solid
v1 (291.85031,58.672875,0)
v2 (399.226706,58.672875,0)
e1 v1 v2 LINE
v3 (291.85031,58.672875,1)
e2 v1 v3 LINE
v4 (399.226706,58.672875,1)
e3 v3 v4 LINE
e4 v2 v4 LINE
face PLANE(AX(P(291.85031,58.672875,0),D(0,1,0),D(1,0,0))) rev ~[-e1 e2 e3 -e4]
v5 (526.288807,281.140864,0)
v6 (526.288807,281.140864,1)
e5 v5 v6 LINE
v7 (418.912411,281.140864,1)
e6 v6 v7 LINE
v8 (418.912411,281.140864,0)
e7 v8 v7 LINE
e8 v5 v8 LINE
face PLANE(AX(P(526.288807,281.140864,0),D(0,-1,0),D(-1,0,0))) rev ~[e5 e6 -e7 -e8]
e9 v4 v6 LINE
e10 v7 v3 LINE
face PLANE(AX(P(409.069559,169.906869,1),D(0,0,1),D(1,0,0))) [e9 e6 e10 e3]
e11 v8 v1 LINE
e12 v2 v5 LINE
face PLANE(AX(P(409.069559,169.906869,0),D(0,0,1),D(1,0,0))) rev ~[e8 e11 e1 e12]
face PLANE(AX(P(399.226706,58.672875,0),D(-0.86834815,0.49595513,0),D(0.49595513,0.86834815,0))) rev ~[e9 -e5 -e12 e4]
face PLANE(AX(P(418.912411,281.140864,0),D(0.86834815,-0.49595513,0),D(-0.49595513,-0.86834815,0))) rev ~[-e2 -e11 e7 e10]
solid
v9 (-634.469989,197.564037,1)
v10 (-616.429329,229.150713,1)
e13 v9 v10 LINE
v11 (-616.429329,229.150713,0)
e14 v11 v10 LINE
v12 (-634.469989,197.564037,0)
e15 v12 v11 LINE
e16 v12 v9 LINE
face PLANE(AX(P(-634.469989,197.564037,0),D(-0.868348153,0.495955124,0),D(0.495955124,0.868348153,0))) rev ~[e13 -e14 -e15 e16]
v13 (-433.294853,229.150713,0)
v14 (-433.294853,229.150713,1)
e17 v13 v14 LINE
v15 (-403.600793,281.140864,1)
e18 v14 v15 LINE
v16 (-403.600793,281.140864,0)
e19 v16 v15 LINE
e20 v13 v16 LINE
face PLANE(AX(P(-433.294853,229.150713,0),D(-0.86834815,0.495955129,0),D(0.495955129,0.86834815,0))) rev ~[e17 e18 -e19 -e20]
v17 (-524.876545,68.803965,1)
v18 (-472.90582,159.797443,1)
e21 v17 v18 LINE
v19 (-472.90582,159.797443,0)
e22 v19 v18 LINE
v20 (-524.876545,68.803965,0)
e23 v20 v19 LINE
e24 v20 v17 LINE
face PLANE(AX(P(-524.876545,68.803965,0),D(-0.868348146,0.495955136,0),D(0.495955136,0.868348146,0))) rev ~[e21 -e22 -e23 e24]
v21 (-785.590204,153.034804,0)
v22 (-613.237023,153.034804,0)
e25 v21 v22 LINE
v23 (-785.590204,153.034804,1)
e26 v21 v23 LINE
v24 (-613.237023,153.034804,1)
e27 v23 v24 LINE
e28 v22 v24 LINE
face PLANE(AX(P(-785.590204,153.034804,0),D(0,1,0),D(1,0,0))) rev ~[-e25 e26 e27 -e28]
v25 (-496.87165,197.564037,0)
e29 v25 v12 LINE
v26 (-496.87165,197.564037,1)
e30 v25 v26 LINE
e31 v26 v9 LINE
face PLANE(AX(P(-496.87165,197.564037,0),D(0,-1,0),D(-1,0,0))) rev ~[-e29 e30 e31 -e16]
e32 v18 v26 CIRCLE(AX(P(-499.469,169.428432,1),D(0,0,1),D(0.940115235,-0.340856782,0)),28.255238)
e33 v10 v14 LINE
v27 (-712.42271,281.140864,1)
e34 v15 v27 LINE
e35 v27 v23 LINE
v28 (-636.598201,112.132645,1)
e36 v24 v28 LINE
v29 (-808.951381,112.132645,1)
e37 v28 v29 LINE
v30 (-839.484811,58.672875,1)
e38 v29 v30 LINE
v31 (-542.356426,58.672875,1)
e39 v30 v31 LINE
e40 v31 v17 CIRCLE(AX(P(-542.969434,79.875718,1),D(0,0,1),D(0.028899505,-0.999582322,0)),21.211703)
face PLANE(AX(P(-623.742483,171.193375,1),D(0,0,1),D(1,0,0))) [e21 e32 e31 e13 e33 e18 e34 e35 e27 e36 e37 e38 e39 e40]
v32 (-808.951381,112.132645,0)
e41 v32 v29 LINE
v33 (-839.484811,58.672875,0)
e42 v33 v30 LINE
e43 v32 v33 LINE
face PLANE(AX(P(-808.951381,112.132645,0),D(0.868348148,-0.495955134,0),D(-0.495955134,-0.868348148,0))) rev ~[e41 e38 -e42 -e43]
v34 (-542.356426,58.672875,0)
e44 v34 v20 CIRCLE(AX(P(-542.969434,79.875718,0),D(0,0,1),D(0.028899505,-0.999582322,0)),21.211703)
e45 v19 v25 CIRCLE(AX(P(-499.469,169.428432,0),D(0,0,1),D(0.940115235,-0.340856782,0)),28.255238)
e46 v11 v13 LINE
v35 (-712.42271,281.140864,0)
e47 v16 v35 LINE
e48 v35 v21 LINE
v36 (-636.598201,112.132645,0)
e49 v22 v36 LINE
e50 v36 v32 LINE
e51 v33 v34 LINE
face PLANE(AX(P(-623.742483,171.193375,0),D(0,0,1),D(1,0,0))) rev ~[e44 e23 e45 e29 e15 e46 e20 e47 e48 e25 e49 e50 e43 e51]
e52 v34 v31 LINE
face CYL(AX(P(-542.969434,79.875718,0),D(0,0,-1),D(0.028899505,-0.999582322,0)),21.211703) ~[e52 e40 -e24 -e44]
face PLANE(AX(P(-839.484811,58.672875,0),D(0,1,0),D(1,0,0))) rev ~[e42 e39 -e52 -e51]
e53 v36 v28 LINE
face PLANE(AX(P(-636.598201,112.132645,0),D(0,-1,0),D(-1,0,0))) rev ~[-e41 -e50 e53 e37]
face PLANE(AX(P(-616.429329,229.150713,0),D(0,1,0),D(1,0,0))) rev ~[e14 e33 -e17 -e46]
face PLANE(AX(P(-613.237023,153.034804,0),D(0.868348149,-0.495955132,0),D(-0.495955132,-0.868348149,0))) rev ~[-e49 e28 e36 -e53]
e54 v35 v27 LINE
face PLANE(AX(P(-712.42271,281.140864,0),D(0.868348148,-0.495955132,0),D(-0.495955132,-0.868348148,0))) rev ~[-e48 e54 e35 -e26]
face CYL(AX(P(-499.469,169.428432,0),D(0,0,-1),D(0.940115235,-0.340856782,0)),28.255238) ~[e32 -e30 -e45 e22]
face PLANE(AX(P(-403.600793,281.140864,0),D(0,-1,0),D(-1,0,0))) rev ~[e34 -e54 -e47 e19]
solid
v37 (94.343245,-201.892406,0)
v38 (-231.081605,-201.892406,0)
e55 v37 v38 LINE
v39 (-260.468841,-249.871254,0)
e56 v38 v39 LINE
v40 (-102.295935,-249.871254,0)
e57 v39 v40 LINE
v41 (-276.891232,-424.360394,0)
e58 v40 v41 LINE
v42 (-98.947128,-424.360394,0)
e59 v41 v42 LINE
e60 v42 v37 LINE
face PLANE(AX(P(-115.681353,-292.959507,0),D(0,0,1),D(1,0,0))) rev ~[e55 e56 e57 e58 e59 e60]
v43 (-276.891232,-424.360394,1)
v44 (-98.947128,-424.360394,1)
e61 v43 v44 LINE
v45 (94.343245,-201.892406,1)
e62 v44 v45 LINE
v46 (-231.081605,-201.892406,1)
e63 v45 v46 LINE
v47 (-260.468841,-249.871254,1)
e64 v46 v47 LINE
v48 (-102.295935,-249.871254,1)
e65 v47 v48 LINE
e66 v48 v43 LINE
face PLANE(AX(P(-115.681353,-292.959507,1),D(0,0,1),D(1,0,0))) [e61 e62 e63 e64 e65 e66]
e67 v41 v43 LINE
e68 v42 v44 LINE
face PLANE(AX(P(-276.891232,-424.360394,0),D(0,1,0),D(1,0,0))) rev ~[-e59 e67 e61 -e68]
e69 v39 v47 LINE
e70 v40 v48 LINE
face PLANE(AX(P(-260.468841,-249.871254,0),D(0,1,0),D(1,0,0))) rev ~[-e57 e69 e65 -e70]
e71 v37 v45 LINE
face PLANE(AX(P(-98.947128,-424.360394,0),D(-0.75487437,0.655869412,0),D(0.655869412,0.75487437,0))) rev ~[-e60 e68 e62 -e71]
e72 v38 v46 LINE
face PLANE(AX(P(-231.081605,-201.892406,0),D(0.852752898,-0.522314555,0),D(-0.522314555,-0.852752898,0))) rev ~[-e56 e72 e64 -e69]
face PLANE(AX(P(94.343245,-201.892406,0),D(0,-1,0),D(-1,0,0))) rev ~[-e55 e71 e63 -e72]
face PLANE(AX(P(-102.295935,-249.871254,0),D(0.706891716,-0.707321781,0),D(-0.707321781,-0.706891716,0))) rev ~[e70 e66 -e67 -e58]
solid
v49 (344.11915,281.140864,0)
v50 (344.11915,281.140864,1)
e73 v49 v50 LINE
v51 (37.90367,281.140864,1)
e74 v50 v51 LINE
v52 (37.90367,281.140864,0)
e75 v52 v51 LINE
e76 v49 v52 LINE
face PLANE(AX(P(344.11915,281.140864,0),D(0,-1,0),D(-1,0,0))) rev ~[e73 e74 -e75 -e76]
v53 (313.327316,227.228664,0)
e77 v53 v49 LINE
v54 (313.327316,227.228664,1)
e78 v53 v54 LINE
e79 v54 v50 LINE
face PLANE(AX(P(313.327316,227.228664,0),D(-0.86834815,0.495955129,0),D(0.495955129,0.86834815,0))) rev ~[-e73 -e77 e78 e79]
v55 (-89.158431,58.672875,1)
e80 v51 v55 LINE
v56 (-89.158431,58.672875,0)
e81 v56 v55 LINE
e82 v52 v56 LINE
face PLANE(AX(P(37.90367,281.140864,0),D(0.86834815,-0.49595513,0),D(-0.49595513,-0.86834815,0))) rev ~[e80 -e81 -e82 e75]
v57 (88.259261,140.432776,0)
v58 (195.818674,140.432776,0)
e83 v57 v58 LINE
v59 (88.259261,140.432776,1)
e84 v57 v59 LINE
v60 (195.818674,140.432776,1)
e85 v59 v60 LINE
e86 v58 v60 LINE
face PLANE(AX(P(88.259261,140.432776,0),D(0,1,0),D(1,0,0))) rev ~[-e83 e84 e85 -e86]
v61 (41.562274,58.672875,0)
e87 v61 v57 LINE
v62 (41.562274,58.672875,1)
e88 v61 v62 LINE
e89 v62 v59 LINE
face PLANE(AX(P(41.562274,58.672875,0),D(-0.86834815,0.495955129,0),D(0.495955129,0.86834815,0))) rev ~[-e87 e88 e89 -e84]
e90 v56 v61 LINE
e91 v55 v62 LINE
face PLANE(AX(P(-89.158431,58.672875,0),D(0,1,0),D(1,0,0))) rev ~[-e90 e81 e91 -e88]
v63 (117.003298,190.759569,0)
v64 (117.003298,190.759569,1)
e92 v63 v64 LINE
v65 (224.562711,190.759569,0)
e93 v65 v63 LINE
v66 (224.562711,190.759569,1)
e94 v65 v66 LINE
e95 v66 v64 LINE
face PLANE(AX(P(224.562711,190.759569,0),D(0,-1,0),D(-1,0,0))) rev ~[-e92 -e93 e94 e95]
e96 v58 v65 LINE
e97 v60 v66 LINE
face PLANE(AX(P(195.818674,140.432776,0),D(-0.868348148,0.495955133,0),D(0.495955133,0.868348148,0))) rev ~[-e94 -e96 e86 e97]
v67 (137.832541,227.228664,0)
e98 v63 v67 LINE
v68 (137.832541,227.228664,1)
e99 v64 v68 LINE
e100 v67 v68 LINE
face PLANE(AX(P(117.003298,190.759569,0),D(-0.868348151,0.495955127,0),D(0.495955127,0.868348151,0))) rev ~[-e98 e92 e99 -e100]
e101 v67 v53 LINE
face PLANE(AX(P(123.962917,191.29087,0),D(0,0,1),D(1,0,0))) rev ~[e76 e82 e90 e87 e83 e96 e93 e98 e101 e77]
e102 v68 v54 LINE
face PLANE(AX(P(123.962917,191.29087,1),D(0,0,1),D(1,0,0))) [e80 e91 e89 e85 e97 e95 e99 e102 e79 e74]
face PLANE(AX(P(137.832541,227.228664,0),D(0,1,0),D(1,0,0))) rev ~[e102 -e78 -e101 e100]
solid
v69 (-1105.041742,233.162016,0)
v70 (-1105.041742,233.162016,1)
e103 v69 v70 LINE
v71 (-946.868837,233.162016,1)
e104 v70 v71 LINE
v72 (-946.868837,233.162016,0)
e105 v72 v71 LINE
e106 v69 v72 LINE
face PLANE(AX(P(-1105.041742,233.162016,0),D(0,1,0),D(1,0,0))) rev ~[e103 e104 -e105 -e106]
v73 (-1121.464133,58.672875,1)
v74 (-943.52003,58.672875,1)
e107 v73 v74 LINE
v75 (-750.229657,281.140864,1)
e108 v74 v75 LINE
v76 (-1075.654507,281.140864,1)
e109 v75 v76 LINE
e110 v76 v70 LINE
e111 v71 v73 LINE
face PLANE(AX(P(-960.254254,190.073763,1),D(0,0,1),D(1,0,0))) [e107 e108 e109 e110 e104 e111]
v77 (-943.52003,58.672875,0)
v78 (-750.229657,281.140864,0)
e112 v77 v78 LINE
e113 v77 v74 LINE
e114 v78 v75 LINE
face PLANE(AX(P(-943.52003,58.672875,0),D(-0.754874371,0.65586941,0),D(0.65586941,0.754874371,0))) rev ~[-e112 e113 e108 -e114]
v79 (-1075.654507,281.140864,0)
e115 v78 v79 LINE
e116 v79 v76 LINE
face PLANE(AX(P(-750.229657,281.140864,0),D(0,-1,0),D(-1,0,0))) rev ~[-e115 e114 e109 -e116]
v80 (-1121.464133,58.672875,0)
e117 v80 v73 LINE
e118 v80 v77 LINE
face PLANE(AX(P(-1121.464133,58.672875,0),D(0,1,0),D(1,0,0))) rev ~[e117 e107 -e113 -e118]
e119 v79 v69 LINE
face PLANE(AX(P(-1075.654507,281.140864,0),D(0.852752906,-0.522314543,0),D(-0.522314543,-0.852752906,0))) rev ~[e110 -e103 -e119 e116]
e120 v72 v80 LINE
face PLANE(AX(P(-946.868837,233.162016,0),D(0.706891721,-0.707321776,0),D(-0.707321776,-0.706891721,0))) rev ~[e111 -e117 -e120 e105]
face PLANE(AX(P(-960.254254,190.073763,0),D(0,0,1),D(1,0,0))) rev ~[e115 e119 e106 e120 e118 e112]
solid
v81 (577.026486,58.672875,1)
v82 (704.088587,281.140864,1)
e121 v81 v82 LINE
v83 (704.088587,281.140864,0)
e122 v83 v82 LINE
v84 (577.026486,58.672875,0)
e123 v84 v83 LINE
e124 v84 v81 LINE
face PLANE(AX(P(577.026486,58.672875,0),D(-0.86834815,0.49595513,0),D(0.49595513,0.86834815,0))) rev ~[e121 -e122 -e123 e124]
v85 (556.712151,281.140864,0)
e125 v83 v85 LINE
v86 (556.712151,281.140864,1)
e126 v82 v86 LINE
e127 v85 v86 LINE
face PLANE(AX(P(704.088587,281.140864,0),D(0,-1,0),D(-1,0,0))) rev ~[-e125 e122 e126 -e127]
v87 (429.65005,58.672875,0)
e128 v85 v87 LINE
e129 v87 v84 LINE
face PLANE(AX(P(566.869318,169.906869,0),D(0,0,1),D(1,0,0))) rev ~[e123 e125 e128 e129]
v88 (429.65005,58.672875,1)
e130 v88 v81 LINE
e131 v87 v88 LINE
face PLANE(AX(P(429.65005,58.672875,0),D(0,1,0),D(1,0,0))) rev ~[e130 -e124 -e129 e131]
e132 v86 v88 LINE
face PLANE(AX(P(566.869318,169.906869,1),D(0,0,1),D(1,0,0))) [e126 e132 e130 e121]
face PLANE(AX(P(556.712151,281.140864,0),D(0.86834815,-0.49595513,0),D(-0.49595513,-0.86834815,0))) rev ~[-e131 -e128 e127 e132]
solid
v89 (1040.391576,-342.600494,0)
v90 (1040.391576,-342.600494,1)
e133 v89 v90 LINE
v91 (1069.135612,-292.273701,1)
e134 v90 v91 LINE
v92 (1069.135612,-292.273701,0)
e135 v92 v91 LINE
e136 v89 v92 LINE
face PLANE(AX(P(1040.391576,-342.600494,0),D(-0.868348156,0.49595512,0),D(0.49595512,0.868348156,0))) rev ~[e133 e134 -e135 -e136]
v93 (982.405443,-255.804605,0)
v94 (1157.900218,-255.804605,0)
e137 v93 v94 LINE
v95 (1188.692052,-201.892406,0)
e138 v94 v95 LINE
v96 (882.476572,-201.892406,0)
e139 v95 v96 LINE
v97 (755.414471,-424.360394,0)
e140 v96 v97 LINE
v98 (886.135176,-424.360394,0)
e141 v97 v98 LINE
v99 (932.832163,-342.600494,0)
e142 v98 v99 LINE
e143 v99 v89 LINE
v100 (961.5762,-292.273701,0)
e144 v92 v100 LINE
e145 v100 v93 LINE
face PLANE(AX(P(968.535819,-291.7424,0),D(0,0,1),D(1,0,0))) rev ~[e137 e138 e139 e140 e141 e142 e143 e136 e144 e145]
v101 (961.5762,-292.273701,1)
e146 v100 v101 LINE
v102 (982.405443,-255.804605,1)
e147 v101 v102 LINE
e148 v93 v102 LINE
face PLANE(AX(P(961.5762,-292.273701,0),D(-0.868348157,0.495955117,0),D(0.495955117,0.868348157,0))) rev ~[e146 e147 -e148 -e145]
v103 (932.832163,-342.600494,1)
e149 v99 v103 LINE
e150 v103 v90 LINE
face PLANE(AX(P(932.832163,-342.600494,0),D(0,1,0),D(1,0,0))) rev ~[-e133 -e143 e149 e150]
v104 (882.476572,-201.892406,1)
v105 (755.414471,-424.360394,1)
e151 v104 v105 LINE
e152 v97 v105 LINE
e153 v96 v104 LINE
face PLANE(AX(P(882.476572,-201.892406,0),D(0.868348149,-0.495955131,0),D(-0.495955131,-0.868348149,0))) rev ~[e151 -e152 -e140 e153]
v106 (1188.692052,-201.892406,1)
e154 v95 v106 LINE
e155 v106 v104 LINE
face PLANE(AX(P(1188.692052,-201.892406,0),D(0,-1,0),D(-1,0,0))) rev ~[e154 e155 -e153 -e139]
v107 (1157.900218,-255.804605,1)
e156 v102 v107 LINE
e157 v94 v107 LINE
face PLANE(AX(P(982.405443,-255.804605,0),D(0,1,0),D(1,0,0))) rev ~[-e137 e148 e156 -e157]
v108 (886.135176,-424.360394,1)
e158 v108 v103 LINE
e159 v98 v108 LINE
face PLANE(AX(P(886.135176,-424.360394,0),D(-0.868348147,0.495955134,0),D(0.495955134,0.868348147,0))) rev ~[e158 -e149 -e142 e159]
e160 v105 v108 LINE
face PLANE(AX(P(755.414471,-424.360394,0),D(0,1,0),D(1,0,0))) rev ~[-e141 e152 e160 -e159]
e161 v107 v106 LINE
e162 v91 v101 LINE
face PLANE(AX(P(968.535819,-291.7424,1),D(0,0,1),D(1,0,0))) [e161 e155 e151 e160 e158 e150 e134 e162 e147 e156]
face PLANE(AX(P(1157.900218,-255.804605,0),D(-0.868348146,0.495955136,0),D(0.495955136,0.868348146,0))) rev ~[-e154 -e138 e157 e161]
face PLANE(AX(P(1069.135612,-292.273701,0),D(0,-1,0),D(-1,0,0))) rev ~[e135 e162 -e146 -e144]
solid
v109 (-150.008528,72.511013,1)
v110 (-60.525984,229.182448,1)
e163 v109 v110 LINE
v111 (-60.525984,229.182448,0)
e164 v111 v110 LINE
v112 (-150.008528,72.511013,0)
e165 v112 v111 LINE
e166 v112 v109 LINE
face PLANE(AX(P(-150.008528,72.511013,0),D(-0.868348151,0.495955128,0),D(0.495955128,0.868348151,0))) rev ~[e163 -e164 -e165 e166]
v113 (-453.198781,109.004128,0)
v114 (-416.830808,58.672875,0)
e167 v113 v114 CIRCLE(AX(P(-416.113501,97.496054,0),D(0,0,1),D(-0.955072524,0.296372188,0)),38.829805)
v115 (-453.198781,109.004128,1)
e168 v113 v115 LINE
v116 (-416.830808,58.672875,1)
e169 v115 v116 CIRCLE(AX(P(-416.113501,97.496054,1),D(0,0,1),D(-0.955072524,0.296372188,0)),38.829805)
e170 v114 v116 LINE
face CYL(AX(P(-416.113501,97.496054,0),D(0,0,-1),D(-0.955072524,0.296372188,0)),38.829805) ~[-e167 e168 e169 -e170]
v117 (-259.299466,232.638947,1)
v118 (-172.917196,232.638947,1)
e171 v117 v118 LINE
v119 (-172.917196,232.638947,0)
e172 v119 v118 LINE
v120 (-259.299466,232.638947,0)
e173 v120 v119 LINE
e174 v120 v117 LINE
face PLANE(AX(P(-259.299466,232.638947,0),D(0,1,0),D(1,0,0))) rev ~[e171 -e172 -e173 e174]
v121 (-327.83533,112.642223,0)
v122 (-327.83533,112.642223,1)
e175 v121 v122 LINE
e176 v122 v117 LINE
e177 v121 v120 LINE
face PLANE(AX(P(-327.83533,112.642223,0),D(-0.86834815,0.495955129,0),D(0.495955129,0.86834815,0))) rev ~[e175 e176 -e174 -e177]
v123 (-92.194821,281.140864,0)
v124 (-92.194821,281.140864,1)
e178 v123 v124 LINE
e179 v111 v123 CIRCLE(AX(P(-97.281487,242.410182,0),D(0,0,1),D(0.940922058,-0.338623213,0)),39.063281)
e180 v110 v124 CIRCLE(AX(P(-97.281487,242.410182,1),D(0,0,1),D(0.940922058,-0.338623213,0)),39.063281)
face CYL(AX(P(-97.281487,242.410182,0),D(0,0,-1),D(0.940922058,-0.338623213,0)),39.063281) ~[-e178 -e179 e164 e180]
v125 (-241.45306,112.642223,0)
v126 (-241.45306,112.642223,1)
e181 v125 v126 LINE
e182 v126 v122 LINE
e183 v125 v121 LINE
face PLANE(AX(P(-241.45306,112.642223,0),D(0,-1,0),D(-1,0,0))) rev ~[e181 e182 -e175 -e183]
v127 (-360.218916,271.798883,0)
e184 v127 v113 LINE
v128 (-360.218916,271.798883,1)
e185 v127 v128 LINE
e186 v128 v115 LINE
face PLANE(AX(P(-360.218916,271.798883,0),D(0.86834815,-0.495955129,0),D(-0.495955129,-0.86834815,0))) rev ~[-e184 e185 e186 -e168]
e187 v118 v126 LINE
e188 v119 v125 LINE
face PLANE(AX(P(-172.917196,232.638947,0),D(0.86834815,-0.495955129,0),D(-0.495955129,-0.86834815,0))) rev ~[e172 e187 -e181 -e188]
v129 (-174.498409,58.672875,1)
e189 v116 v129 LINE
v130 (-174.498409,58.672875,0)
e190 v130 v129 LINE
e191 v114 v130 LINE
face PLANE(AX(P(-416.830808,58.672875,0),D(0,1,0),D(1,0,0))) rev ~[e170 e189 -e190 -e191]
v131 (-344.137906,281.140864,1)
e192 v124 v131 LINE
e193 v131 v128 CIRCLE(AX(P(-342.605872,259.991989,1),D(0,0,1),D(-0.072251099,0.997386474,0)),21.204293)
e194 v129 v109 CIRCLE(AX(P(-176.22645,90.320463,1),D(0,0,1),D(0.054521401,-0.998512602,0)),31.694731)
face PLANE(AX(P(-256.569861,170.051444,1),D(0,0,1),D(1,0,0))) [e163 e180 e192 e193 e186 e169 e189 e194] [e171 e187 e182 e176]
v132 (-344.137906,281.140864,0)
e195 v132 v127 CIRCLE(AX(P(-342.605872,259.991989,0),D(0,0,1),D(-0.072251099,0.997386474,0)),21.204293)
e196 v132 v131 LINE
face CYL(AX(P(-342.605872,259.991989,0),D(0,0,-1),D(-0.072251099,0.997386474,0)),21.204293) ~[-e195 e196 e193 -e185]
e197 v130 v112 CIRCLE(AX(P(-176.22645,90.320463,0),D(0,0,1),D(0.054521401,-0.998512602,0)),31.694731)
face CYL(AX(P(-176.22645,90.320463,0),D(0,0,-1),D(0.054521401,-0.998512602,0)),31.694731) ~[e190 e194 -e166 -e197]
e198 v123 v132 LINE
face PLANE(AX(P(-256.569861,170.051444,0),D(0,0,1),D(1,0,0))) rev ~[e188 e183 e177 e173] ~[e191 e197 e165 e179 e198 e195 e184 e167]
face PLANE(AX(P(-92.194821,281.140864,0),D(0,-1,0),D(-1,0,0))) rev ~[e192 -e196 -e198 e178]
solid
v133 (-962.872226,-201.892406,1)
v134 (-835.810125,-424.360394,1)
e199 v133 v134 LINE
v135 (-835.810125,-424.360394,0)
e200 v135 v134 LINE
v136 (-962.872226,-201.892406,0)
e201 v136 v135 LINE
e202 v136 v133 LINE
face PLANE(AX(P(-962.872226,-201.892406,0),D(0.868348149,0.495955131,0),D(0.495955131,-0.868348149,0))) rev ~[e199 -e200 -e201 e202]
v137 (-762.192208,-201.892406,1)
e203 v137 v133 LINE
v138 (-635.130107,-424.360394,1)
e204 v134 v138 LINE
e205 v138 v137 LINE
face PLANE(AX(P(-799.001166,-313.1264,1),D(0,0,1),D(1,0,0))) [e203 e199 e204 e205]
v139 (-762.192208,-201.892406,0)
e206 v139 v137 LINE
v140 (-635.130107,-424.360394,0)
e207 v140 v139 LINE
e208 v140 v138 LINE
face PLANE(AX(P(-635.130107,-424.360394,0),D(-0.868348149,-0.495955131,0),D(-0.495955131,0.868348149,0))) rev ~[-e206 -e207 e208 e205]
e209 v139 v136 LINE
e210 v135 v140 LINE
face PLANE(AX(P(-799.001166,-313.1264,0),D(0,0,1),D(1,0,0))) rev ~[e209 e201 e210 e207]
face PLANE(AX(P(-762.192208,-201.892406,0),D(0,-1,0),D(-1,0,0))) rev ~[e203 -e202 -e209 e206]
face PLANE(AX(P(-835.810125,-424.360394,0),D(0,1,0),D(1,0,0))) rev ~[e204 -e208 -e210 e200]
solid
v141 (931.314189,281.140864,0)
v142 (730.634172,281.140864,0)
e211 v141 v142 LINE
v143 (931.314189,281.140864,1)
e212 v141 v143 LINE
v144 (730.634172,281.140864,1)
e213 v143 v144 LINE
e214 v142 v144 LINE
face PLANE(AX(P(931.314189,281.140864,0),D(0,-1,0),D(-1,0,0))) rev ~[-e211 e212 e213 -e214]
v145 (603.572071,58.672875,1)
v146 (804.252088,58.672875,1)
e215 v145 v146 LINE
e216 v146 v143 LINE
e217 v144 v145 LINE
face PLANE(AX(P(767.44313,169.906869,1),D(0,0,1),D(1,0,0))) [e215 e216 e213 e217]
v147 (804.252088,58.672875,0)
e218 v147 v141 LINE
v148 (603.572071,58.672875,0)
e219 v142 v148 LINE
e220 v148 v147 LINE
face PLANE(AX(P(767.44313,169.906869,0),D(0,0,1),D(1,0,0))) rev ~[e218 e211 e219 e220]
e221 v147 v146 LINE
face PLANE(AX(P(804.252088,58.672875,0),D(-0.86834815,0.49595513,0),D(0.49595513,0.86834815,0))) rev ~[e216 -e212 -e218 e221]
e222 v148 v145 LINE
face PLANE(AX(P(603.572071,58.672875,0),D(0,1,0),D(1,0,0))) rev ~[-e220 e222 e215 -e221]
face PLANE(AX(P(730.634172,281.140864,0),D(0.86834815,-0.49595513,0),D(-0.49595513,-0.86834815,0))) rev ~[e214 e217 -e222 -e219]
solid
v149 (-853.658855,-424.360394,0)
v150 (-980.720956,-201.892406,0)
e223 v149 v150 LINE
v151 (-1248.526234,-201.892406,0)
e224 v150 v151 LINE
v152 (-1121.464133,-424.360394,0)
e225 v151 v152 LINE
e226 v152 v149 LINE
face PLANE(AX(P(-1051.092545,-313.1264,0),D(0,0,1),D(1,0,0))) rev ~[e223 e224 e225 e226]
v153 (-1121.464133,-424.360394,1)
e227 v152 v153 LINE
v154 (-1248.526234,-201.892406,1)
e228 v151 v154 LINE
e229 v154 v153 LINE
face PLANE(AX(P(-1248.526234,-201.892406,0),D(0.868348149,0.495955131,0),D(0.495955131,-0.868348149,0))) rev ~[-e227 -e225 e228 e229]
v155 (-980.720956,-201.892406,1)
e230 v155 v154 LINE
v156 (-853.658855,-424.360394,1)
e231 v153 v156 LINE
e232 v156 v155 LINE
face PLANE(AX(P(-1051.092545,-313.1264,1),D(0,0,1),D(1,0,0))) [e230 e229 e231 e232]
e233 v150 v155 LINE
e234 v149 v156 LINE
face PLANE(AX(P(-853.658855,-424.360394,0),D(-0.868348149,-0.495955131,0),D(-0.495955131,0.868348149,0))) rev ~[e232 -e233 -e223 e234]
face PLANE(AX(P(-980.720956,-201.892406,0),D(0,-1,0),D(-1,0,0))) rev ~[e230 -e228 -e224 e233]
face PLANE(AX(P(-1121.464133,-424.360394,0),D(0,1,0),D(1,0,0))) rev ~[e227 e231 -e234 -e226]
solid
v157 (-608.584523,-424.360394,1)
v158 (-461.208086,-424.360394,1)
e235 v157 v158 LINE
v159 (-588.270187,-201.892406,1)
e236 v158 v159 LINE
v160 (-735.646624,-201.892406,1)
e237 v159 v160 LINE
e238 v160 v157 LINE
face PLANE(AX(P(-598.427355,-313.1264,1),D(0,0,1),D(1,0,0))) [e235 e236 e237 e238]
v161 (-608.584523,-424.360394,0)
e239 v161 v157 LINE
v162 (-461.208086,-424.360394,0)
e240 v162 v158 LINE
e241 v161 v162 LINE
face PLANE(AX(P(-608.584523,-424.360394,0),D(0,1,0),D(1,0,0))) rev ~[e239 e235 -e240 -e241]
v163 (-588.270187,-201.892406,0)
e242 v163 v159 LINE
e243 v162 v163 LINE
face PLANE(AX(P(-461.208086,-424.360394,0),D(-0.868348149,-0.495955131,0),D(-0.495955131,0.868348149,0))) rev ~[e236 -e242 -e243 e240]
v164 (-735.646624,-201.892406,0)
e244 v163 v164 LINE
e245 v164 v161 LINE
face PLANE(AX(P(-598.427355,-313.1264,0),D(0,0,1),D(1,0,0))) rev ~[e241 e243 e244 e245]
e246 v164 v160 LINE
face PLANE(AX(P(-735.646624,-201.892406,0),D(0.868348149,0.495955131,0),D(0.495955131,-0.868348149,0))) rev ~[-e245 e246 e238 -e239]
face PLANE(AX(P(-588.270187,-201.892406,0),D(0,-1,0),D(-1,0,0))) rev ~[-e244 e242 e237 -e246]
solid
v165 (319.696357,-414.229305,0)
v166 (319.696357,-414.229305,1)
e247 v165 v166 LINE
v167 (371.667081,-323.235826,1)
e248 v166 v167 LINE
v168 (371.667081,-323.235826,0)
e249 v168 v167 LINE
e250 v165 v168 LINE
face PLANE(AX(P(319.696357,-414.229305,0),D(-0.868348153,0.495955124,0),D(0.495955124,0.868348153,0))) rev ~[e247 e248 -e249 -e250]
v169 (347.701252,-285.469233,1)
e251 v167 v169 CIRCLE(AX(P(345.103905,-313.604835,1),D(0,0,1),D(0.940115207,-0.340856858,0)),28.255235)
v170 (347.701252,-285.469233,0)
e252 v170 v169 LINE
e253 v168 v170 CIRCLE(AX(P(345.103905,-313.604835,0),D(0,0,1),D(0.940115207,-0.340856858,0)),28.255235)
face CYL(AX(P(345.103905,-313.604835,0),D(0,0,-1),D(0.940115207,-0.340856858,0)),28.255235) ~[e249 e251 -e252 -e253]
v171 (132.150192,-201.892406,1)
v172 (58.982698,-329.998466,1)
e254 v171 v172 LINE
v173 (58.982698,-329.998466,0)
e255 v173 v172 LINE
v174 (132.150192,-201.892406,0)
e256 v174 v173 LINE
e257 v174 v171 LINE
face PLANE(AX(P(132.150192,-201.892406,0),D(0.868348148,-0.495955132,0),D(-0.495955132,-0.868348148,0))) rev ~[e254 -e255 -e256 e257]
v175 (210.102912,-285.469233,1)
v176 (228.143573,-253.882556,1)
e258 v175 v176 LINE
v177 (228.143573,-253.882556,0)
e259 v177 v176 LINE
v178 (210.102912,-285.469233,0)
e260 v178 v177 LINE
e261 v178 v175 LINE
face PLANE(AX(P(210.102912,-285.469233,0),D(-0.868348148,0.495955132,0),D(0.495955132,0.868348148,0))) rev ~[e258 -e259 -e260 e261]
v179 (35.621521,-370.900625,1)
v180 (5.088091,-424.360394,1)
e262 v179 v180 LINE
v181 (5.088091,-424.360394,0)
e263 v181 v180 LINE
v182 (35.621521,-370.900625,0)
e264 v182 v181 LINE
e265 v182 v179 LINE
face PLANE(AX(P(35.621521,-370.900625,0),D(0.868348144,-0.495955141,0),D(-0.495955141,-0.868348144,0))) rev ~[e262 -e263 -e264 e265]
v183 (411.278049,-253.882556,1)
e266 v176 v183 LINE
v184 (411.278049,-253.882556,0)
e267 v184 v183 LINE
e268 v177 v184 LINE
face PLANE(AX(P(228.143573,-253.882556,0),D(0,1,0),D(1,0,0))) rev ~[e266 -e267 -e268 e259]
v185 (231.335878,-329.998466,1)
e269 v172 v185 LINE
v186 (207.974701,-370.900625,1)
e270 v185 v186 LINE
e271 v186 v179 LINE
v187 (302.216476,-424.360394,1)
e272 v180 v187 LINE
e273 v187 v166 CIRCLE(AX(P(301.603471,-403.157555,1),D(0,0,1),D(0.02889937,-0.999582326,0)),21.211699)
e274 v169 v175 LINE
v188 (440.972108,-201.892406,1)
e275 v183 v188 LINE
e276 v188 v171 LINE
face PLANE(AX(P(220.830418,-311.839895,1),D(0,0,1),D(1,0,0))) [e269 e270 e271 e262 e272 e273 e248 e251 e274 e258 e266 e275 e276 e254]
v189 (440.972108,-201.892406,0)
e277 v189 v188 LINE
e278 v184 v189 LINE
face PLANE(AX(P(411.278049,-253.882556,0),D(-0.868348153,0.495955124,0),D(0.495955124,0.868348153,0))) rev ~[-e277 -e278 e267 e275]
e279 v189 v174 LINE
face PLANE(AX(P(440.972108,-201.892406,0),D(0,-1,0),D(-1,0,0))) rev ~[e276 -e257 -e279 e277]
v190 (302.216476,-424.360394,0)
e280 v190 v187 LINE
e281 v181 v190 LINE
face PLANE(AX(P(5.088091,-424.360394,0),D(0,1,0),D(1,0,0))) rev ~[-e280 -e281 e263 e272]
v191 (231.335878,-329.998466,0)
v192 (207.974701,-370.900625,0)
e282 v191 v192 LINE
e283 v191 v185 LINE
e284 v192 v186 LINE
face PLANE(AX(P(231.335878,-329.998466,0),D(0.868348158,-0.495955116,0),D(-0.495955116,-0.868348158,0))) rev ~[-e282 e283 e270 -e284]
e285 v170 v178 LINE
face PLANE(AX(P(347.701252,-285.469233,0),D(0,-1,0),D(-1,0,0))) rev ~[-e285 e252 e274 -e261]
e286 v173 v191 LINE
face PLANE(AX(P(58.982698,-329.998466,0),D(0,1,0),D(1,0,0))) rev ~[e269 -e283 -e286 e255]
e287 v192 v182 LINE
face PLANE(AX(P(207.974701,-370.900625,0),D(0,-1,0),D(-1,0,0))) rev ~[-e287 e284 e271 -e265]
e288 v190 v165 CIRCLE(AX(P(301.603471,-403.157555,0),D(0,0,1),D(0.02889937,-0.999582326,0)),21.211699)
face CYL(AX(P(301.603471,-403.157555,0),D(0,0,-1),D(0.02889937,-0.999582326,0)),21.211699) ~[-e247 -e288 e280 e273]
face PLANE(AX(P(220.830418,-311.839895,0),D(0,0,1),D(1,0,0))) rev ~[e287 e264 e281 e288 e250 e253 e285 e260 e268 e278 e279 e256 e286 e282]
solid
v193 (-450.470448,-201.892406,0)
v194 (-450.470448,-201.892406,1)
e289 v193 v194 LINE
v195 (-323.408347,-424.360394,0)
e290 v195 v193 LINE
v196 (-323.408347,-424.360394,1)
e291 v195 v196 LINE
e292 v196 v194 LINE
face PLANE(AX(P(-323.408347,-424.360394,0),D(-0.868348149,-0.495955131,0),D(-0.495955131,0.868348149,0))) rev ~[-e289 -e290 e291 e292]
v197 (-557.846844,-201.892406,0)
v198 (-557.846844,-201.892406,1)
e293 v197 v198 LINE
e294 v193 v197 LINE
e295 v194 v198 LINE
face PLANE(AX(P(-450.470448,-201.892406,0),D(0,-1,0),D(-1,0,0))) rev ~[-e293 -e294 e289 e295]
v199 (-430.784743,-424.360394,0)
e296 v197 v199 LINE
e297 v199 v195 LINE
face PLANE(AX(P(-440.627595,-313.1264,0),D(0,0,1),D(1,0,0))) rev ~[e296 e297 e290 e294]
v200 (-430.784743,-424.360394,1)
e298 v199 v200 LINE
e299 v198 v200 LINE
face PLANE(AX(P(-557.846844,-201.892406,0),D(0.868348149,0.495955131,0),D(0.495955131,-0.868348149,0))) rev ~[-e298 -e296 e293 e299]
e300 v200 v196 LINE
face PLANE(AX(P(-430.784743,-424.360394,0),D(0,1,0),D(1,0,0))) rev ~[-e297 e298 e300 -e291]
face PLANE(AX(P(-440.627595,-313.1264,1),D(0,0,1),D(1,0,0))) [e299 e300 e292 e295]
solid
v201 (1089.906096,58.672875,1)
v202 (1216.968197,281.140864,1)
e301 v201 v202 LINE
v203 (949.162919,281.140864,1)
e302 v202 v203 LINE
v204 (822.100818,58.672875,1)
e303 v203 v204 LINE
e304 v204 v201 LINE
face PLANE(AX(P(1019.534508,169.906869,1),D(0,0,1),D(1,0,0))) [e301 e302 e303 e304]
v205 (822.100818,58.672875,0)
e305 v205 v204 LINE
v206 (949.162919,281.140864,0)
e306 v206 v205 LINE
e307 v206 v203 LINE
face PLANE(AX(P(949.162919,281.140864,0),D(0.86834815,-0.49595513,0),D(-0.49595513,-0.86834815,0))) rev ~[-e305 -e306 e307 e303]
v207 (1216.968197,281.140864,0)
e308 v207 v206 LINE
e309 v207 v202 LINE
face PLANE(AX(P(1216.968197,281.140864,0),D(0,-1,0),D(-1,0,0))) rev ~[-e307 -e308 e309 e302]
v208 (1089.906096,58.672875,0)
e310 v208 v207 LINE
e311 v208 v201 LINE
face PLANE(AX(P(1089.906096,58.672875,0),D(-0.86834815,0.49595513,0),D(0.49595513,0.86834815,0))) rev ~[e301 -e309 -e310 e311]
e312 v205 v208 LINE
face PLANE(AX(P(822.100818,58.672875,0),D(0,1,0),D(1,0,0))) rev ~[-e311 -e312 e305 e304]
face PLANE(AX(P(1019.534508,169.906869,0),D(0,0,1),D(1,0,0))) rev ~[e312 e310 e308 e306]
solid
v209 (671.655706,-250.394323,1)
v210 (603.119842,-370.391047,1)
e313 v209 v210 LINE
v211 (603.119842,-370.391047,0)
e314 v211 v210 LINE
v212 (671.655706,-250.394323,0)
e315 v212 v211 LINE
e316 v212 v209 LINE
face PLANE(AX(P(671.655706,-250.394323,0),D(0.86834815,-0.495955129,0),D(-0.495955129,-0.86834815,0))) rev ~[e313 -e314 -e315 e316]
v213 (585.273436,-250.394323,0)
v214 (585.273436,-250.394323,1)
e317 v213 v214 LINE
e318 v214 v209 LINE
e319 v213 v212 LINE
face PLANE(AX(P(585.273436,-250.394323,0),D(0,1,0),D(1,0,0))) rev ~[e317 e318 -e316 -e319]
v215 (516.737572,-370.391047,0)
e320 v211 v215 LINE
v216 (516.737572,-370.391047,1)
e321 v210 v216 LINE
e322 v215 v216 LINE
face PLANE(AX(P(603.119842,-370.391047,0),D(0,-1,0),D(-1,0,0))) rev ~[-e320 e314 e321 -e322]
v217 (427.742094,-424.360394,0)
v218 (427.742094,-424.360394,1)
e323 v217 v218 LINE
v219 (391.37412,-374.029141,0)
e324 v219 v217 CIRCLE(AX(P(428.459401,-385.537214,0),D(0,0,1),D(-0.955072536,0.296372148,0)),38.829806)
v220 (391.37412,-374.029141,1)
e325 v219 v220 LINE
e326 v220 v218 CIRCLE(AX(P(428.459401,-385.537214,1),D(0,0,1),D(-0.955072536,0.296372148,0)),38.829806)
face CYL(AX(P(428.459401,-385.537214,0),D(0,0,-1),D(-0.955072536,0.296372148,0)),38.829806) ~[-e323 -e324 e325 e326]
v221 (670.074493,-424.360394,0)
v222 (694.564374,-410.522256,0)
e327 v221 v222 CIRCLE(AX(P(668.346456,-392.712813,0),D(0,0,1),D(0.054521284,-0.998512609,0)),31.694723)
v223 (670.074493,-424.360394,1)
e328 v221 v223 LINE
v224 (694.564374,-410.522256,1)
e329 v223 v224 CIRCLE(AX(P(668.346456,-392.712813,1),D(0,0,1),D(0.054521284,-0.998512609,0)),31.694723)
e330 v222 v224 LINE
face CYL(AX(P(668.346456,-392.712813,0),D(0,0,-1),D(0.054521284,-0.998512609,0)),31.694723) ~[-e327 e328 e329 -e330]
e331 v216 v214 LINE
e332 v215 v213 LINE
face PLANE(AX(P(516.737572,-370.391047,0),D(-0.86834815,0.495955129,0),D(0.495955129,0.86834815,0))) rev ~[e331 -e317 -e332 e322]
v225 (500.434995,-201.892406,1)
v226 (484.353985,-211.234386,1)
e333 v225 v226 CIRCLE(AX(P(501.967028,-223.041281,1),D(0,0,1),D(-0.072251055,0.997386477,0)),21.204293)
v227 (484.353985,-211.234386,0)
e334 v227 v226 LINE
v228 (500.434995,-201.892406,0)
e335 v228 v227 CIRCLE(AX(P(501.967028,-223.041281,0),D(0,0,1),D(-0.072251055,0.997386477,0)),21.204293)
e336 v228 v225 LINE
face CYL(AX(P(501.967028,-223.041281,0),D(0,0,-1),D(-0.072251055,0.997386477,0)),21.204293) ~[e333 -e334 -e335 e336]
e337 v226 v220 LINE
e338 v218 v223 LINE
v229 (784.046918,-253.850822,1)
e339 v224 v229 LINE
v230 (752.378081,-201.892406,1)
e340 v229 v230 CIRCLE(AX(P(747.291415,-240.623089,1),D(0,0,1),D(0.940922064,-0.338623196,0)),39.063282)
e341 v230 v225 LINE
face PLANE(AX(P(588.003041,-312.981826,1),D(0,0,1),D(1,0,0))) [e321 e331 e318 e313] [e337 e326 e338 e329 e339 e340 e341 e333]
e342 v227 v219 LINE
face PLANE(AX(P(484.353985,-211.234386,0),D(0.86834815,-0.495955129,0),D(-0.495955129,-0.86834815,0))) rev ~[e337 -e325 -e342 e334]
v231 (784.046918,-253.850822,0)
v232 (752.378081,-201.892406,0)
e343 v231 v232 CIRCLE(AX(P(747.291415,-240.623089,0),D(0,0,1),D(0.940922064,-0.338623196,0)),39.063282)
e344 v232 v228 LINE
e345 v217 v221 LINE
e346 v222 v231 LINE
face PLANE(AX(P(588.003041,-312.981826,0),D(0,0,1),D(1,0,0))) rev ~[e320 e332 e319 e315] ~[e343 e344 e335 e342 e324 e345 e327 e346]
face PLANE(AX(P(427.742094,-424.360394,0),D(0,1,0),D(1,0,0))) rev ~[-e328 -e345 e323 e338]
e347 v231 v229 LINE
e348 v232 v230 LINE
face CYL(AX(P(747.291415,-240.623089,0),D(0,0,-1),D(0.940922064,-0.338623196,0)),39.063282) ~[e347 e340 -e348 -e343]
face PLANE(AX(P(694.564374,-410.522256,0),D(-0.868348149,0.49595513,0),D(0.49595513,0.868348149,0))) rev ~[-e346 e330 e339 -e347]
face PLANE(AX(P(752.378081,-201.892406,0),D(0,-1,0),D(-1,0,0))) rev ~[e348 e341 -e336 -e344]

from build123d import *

# Parameters (mm, degrees)
F1_DEPTH = 1


with BuildPart() as f1:
    # F0 (on Top) → F1 (new body)
    with BuildSketch(Plane.XY):
        with BuildLine():
            ThreePointArc((500.434995, -201.892406), (491.315661, -204.70633), (484.353985, -211.234386))
            Line((484.353985, -211.234386), (391.37412, -374.029141))
            ThreePointArc((391.37412, -374.029141), (396.986116, -408.278941), (427.742094, -424.360394))
            Line((427.742094, -424.360394), (670.074493, -424.360394))
            ThreePointArc((670.074493, -424.360394), (683.938685, -420.306977), (694.564374, -410.522256))
            Line((694.564374, -410.522256), (784.046918, -253.850822))
            ThreePointArc((784.046918, -253.850822), (780.647239, -220.292596), (752.378081, -201.892406))
            Line((752.378081, -201.892406), (500.434995, -201.892406))
        make_face()
        Polygon((516.737572, -370.391047), (585.273436, -250.394323), (671.655706, -250.394323), (603.119842, -370.391047), align=None, mode=Mode.SUBTRACT)
        Polygon((-1121.464133, -424.360394), (-853.658855, -424.360394), (-980.720956, -201.892406), (-1248.526234, -201.892406), align=None)
        with BuildLine():
            ThreePointArc((-344.137906, 281.140864), (-353.257241, 278.326939), (-360.218916, 271.798883))
            Line((-360.218916, 271.798883), (-453.198781, 109.004128))
            ThreePointArc((-453.198781, 109.004128), (-447.586786, 74.754328), (-416.830808, 58.672875))
            Line((-416.830808, 58.672875), (-174.498409, 58.672875))
            ThreePointArc((-174.498409, 58.672875), (-160.634217, 62.726293), (-150.008528, 72.511013))
            Line((-150.008528, 72.511013), (-60.525984, 229.182448))
            ThreePointArc((-60.525984, 229.182448), (-63.925662, 262.740673), (-92.194821, 281.140864))
            Line((-92.194821, 281.140864), (-344.137906, 281.140864))
        make_face()
        Polygon((-327.83533, 112.642223), (-259.299466, 232.638947), (-172.917196, 232.638947), (-241.45306, 112.642223), align=None, mode=Mode.SUBTRACT)
        Polygon((-750.229657, 281.140864), (-1075.654507, 281.140864), (-1105.041742, 233.162016), (-946.868837, 233.162016), (-1121.464133, 58.672875), (-943.52003, 58.672875), align=None)
        with BuildLine():
            Line((-808.951381, 112.132645), (-839.484811, 58.672875))
            Line((-839.484811, 58.672875), (-542.356426, 58.672875))
            ThreePointArc((-542.356426, 58.672875), (-532.332828, 61.523635), (-524.876545, 68.803965))
            Line((-524.876545, 68.803965), (-472.90582, 159.797443))
            ThreePointArc((-472.90582, 159.797443), (-475.611862, 184.567635), (-496.87165, 197.564037))
            Line((-496.87165, 197.564037), (-634.469989, 197.564037))
            Line((-634.469989, 197.564037), (-616.429329, 229.150713))
            Line((-616.429329, 229.150713), (-433.294853, 229.150713))
            Line((-433.294853, 229.150713), (-403.600793, 281.140864))
            Line((-403.600793, 281.140864), (-712.42271, 281.140864))
            Line((-712.42271, 281.140864), (-785.590204, 153.034804))
            Line((-785.590204, 153.034804), (-613.237023, 153.034804))
            Line((-613.237023, 153.034804), (-636.598201, 112.132645))
            Line((-636.598201, 112.132645), (-808.951381, 112.132645))
        make_face()
        Polygon((526.288807, 281.140864), (418.912411, 281.140864), (291.85031, 58.672875), (399.226706, 58.672875), align=None)
        Polygon((704.088587, 281.140864), (556.712151, 281.140864), (429.65005, 58.672875), (577.026486, 58.672875), align=None)
        Polygon((931.314189, 281.140864), (730.634172, 281.140864), (603.572071, 58.672875), (804.252088, 58.672875), align=None)
        Polygon((1216.968197, 281.140864), (949.162919, 281.140864), (822.100818, 58.672875), (1089.906096, 58.672875), align=None)
        Polygon((344.11915, 281.140864), (37.90367, 281.140864), (-89.158431, 58.672875), (41.562274, 58.672875), (88.259261, 140.432776), (195.818674, 140.432776), (224.562711, 190.759569), (117.003298, 190.759569), (137.832541, 227.228664), (313.327316, 227.228664), align=None)
        Polygon((94.343245, -201.892406), (-231.081605, -201.892406), (-260.468841, -249.871254), (-102.295935, -249.871254), (-276.891232, -424.360394), (-98.947128, -424.360394), align=None)
        with BuildLine():
            Line((35.621521, -370.900625), (5.088091, -424.360394))
            Line((5.088091, -424.360394), (302.216476, -424.360394))
            ThreePointArc((302.216476, -424.360394), (312.240074, -421.509635), (319.696357, -414.229305))
            Line((319.696357, -414.229305), (371.667081, -323.235826))
            ThreePointArc((371.667081, -323.235826), (368.96104, -298.465634), (347.701252, -285.469233))
            Line((347.701252, -285.469233), (210.102912, -285.469233))
            Line((210.102912, -285.469233), (228.143573, -253.882556))
            Line((228.143573, -253.882556), (411.278049, -253.882556))
            Line((411.278049, -253.882556), (440.972108, -201.892406))
            Line((440.972108, -201.892406), (132.150192, -201.892406))
            Line((132.150192, -201.892406), (58.982698, -329.998466))
            Line((58.982698, -329.998466), (231.335878, -329.998466))
            Line((231.335878, -329.998466), (207.974701, -370.900625))
            Line((207.974701, -370.900625), (35.621521, -370.900625))
        make_face()
        Polygon((1188.692052, -201.892406), (882.476572, -201.892406), (755.414471, -424.360394), (886.135176, -424.360394), (932.832163, -342.600494), (1040.391576, -342.600494), (1069.135612, -292.273701), (961.5762, -292.273701), (982.405443, -255.804605), (1157.900218, -255.804605), align=None)
        Polygon((-430.784743, -424.360394), (-323.408347, -424.360394), (-450.470448, -201.892406), (-557.846844, -201.892406), align=None)
        Polygon((-461.208086, -424.360394), (-588.270187, -201.892406), (-735.646624, -201.892406), (-608.584523, -424.360394), align=None)
        Polygon((-835.810125, -424.360394), (-635.130107, -424.360394), (-762.192208, -201.892406), (-962.872226, -201.892406), align=None)
    extrude(amount=F1_DEPTH)


solid = f1.part
